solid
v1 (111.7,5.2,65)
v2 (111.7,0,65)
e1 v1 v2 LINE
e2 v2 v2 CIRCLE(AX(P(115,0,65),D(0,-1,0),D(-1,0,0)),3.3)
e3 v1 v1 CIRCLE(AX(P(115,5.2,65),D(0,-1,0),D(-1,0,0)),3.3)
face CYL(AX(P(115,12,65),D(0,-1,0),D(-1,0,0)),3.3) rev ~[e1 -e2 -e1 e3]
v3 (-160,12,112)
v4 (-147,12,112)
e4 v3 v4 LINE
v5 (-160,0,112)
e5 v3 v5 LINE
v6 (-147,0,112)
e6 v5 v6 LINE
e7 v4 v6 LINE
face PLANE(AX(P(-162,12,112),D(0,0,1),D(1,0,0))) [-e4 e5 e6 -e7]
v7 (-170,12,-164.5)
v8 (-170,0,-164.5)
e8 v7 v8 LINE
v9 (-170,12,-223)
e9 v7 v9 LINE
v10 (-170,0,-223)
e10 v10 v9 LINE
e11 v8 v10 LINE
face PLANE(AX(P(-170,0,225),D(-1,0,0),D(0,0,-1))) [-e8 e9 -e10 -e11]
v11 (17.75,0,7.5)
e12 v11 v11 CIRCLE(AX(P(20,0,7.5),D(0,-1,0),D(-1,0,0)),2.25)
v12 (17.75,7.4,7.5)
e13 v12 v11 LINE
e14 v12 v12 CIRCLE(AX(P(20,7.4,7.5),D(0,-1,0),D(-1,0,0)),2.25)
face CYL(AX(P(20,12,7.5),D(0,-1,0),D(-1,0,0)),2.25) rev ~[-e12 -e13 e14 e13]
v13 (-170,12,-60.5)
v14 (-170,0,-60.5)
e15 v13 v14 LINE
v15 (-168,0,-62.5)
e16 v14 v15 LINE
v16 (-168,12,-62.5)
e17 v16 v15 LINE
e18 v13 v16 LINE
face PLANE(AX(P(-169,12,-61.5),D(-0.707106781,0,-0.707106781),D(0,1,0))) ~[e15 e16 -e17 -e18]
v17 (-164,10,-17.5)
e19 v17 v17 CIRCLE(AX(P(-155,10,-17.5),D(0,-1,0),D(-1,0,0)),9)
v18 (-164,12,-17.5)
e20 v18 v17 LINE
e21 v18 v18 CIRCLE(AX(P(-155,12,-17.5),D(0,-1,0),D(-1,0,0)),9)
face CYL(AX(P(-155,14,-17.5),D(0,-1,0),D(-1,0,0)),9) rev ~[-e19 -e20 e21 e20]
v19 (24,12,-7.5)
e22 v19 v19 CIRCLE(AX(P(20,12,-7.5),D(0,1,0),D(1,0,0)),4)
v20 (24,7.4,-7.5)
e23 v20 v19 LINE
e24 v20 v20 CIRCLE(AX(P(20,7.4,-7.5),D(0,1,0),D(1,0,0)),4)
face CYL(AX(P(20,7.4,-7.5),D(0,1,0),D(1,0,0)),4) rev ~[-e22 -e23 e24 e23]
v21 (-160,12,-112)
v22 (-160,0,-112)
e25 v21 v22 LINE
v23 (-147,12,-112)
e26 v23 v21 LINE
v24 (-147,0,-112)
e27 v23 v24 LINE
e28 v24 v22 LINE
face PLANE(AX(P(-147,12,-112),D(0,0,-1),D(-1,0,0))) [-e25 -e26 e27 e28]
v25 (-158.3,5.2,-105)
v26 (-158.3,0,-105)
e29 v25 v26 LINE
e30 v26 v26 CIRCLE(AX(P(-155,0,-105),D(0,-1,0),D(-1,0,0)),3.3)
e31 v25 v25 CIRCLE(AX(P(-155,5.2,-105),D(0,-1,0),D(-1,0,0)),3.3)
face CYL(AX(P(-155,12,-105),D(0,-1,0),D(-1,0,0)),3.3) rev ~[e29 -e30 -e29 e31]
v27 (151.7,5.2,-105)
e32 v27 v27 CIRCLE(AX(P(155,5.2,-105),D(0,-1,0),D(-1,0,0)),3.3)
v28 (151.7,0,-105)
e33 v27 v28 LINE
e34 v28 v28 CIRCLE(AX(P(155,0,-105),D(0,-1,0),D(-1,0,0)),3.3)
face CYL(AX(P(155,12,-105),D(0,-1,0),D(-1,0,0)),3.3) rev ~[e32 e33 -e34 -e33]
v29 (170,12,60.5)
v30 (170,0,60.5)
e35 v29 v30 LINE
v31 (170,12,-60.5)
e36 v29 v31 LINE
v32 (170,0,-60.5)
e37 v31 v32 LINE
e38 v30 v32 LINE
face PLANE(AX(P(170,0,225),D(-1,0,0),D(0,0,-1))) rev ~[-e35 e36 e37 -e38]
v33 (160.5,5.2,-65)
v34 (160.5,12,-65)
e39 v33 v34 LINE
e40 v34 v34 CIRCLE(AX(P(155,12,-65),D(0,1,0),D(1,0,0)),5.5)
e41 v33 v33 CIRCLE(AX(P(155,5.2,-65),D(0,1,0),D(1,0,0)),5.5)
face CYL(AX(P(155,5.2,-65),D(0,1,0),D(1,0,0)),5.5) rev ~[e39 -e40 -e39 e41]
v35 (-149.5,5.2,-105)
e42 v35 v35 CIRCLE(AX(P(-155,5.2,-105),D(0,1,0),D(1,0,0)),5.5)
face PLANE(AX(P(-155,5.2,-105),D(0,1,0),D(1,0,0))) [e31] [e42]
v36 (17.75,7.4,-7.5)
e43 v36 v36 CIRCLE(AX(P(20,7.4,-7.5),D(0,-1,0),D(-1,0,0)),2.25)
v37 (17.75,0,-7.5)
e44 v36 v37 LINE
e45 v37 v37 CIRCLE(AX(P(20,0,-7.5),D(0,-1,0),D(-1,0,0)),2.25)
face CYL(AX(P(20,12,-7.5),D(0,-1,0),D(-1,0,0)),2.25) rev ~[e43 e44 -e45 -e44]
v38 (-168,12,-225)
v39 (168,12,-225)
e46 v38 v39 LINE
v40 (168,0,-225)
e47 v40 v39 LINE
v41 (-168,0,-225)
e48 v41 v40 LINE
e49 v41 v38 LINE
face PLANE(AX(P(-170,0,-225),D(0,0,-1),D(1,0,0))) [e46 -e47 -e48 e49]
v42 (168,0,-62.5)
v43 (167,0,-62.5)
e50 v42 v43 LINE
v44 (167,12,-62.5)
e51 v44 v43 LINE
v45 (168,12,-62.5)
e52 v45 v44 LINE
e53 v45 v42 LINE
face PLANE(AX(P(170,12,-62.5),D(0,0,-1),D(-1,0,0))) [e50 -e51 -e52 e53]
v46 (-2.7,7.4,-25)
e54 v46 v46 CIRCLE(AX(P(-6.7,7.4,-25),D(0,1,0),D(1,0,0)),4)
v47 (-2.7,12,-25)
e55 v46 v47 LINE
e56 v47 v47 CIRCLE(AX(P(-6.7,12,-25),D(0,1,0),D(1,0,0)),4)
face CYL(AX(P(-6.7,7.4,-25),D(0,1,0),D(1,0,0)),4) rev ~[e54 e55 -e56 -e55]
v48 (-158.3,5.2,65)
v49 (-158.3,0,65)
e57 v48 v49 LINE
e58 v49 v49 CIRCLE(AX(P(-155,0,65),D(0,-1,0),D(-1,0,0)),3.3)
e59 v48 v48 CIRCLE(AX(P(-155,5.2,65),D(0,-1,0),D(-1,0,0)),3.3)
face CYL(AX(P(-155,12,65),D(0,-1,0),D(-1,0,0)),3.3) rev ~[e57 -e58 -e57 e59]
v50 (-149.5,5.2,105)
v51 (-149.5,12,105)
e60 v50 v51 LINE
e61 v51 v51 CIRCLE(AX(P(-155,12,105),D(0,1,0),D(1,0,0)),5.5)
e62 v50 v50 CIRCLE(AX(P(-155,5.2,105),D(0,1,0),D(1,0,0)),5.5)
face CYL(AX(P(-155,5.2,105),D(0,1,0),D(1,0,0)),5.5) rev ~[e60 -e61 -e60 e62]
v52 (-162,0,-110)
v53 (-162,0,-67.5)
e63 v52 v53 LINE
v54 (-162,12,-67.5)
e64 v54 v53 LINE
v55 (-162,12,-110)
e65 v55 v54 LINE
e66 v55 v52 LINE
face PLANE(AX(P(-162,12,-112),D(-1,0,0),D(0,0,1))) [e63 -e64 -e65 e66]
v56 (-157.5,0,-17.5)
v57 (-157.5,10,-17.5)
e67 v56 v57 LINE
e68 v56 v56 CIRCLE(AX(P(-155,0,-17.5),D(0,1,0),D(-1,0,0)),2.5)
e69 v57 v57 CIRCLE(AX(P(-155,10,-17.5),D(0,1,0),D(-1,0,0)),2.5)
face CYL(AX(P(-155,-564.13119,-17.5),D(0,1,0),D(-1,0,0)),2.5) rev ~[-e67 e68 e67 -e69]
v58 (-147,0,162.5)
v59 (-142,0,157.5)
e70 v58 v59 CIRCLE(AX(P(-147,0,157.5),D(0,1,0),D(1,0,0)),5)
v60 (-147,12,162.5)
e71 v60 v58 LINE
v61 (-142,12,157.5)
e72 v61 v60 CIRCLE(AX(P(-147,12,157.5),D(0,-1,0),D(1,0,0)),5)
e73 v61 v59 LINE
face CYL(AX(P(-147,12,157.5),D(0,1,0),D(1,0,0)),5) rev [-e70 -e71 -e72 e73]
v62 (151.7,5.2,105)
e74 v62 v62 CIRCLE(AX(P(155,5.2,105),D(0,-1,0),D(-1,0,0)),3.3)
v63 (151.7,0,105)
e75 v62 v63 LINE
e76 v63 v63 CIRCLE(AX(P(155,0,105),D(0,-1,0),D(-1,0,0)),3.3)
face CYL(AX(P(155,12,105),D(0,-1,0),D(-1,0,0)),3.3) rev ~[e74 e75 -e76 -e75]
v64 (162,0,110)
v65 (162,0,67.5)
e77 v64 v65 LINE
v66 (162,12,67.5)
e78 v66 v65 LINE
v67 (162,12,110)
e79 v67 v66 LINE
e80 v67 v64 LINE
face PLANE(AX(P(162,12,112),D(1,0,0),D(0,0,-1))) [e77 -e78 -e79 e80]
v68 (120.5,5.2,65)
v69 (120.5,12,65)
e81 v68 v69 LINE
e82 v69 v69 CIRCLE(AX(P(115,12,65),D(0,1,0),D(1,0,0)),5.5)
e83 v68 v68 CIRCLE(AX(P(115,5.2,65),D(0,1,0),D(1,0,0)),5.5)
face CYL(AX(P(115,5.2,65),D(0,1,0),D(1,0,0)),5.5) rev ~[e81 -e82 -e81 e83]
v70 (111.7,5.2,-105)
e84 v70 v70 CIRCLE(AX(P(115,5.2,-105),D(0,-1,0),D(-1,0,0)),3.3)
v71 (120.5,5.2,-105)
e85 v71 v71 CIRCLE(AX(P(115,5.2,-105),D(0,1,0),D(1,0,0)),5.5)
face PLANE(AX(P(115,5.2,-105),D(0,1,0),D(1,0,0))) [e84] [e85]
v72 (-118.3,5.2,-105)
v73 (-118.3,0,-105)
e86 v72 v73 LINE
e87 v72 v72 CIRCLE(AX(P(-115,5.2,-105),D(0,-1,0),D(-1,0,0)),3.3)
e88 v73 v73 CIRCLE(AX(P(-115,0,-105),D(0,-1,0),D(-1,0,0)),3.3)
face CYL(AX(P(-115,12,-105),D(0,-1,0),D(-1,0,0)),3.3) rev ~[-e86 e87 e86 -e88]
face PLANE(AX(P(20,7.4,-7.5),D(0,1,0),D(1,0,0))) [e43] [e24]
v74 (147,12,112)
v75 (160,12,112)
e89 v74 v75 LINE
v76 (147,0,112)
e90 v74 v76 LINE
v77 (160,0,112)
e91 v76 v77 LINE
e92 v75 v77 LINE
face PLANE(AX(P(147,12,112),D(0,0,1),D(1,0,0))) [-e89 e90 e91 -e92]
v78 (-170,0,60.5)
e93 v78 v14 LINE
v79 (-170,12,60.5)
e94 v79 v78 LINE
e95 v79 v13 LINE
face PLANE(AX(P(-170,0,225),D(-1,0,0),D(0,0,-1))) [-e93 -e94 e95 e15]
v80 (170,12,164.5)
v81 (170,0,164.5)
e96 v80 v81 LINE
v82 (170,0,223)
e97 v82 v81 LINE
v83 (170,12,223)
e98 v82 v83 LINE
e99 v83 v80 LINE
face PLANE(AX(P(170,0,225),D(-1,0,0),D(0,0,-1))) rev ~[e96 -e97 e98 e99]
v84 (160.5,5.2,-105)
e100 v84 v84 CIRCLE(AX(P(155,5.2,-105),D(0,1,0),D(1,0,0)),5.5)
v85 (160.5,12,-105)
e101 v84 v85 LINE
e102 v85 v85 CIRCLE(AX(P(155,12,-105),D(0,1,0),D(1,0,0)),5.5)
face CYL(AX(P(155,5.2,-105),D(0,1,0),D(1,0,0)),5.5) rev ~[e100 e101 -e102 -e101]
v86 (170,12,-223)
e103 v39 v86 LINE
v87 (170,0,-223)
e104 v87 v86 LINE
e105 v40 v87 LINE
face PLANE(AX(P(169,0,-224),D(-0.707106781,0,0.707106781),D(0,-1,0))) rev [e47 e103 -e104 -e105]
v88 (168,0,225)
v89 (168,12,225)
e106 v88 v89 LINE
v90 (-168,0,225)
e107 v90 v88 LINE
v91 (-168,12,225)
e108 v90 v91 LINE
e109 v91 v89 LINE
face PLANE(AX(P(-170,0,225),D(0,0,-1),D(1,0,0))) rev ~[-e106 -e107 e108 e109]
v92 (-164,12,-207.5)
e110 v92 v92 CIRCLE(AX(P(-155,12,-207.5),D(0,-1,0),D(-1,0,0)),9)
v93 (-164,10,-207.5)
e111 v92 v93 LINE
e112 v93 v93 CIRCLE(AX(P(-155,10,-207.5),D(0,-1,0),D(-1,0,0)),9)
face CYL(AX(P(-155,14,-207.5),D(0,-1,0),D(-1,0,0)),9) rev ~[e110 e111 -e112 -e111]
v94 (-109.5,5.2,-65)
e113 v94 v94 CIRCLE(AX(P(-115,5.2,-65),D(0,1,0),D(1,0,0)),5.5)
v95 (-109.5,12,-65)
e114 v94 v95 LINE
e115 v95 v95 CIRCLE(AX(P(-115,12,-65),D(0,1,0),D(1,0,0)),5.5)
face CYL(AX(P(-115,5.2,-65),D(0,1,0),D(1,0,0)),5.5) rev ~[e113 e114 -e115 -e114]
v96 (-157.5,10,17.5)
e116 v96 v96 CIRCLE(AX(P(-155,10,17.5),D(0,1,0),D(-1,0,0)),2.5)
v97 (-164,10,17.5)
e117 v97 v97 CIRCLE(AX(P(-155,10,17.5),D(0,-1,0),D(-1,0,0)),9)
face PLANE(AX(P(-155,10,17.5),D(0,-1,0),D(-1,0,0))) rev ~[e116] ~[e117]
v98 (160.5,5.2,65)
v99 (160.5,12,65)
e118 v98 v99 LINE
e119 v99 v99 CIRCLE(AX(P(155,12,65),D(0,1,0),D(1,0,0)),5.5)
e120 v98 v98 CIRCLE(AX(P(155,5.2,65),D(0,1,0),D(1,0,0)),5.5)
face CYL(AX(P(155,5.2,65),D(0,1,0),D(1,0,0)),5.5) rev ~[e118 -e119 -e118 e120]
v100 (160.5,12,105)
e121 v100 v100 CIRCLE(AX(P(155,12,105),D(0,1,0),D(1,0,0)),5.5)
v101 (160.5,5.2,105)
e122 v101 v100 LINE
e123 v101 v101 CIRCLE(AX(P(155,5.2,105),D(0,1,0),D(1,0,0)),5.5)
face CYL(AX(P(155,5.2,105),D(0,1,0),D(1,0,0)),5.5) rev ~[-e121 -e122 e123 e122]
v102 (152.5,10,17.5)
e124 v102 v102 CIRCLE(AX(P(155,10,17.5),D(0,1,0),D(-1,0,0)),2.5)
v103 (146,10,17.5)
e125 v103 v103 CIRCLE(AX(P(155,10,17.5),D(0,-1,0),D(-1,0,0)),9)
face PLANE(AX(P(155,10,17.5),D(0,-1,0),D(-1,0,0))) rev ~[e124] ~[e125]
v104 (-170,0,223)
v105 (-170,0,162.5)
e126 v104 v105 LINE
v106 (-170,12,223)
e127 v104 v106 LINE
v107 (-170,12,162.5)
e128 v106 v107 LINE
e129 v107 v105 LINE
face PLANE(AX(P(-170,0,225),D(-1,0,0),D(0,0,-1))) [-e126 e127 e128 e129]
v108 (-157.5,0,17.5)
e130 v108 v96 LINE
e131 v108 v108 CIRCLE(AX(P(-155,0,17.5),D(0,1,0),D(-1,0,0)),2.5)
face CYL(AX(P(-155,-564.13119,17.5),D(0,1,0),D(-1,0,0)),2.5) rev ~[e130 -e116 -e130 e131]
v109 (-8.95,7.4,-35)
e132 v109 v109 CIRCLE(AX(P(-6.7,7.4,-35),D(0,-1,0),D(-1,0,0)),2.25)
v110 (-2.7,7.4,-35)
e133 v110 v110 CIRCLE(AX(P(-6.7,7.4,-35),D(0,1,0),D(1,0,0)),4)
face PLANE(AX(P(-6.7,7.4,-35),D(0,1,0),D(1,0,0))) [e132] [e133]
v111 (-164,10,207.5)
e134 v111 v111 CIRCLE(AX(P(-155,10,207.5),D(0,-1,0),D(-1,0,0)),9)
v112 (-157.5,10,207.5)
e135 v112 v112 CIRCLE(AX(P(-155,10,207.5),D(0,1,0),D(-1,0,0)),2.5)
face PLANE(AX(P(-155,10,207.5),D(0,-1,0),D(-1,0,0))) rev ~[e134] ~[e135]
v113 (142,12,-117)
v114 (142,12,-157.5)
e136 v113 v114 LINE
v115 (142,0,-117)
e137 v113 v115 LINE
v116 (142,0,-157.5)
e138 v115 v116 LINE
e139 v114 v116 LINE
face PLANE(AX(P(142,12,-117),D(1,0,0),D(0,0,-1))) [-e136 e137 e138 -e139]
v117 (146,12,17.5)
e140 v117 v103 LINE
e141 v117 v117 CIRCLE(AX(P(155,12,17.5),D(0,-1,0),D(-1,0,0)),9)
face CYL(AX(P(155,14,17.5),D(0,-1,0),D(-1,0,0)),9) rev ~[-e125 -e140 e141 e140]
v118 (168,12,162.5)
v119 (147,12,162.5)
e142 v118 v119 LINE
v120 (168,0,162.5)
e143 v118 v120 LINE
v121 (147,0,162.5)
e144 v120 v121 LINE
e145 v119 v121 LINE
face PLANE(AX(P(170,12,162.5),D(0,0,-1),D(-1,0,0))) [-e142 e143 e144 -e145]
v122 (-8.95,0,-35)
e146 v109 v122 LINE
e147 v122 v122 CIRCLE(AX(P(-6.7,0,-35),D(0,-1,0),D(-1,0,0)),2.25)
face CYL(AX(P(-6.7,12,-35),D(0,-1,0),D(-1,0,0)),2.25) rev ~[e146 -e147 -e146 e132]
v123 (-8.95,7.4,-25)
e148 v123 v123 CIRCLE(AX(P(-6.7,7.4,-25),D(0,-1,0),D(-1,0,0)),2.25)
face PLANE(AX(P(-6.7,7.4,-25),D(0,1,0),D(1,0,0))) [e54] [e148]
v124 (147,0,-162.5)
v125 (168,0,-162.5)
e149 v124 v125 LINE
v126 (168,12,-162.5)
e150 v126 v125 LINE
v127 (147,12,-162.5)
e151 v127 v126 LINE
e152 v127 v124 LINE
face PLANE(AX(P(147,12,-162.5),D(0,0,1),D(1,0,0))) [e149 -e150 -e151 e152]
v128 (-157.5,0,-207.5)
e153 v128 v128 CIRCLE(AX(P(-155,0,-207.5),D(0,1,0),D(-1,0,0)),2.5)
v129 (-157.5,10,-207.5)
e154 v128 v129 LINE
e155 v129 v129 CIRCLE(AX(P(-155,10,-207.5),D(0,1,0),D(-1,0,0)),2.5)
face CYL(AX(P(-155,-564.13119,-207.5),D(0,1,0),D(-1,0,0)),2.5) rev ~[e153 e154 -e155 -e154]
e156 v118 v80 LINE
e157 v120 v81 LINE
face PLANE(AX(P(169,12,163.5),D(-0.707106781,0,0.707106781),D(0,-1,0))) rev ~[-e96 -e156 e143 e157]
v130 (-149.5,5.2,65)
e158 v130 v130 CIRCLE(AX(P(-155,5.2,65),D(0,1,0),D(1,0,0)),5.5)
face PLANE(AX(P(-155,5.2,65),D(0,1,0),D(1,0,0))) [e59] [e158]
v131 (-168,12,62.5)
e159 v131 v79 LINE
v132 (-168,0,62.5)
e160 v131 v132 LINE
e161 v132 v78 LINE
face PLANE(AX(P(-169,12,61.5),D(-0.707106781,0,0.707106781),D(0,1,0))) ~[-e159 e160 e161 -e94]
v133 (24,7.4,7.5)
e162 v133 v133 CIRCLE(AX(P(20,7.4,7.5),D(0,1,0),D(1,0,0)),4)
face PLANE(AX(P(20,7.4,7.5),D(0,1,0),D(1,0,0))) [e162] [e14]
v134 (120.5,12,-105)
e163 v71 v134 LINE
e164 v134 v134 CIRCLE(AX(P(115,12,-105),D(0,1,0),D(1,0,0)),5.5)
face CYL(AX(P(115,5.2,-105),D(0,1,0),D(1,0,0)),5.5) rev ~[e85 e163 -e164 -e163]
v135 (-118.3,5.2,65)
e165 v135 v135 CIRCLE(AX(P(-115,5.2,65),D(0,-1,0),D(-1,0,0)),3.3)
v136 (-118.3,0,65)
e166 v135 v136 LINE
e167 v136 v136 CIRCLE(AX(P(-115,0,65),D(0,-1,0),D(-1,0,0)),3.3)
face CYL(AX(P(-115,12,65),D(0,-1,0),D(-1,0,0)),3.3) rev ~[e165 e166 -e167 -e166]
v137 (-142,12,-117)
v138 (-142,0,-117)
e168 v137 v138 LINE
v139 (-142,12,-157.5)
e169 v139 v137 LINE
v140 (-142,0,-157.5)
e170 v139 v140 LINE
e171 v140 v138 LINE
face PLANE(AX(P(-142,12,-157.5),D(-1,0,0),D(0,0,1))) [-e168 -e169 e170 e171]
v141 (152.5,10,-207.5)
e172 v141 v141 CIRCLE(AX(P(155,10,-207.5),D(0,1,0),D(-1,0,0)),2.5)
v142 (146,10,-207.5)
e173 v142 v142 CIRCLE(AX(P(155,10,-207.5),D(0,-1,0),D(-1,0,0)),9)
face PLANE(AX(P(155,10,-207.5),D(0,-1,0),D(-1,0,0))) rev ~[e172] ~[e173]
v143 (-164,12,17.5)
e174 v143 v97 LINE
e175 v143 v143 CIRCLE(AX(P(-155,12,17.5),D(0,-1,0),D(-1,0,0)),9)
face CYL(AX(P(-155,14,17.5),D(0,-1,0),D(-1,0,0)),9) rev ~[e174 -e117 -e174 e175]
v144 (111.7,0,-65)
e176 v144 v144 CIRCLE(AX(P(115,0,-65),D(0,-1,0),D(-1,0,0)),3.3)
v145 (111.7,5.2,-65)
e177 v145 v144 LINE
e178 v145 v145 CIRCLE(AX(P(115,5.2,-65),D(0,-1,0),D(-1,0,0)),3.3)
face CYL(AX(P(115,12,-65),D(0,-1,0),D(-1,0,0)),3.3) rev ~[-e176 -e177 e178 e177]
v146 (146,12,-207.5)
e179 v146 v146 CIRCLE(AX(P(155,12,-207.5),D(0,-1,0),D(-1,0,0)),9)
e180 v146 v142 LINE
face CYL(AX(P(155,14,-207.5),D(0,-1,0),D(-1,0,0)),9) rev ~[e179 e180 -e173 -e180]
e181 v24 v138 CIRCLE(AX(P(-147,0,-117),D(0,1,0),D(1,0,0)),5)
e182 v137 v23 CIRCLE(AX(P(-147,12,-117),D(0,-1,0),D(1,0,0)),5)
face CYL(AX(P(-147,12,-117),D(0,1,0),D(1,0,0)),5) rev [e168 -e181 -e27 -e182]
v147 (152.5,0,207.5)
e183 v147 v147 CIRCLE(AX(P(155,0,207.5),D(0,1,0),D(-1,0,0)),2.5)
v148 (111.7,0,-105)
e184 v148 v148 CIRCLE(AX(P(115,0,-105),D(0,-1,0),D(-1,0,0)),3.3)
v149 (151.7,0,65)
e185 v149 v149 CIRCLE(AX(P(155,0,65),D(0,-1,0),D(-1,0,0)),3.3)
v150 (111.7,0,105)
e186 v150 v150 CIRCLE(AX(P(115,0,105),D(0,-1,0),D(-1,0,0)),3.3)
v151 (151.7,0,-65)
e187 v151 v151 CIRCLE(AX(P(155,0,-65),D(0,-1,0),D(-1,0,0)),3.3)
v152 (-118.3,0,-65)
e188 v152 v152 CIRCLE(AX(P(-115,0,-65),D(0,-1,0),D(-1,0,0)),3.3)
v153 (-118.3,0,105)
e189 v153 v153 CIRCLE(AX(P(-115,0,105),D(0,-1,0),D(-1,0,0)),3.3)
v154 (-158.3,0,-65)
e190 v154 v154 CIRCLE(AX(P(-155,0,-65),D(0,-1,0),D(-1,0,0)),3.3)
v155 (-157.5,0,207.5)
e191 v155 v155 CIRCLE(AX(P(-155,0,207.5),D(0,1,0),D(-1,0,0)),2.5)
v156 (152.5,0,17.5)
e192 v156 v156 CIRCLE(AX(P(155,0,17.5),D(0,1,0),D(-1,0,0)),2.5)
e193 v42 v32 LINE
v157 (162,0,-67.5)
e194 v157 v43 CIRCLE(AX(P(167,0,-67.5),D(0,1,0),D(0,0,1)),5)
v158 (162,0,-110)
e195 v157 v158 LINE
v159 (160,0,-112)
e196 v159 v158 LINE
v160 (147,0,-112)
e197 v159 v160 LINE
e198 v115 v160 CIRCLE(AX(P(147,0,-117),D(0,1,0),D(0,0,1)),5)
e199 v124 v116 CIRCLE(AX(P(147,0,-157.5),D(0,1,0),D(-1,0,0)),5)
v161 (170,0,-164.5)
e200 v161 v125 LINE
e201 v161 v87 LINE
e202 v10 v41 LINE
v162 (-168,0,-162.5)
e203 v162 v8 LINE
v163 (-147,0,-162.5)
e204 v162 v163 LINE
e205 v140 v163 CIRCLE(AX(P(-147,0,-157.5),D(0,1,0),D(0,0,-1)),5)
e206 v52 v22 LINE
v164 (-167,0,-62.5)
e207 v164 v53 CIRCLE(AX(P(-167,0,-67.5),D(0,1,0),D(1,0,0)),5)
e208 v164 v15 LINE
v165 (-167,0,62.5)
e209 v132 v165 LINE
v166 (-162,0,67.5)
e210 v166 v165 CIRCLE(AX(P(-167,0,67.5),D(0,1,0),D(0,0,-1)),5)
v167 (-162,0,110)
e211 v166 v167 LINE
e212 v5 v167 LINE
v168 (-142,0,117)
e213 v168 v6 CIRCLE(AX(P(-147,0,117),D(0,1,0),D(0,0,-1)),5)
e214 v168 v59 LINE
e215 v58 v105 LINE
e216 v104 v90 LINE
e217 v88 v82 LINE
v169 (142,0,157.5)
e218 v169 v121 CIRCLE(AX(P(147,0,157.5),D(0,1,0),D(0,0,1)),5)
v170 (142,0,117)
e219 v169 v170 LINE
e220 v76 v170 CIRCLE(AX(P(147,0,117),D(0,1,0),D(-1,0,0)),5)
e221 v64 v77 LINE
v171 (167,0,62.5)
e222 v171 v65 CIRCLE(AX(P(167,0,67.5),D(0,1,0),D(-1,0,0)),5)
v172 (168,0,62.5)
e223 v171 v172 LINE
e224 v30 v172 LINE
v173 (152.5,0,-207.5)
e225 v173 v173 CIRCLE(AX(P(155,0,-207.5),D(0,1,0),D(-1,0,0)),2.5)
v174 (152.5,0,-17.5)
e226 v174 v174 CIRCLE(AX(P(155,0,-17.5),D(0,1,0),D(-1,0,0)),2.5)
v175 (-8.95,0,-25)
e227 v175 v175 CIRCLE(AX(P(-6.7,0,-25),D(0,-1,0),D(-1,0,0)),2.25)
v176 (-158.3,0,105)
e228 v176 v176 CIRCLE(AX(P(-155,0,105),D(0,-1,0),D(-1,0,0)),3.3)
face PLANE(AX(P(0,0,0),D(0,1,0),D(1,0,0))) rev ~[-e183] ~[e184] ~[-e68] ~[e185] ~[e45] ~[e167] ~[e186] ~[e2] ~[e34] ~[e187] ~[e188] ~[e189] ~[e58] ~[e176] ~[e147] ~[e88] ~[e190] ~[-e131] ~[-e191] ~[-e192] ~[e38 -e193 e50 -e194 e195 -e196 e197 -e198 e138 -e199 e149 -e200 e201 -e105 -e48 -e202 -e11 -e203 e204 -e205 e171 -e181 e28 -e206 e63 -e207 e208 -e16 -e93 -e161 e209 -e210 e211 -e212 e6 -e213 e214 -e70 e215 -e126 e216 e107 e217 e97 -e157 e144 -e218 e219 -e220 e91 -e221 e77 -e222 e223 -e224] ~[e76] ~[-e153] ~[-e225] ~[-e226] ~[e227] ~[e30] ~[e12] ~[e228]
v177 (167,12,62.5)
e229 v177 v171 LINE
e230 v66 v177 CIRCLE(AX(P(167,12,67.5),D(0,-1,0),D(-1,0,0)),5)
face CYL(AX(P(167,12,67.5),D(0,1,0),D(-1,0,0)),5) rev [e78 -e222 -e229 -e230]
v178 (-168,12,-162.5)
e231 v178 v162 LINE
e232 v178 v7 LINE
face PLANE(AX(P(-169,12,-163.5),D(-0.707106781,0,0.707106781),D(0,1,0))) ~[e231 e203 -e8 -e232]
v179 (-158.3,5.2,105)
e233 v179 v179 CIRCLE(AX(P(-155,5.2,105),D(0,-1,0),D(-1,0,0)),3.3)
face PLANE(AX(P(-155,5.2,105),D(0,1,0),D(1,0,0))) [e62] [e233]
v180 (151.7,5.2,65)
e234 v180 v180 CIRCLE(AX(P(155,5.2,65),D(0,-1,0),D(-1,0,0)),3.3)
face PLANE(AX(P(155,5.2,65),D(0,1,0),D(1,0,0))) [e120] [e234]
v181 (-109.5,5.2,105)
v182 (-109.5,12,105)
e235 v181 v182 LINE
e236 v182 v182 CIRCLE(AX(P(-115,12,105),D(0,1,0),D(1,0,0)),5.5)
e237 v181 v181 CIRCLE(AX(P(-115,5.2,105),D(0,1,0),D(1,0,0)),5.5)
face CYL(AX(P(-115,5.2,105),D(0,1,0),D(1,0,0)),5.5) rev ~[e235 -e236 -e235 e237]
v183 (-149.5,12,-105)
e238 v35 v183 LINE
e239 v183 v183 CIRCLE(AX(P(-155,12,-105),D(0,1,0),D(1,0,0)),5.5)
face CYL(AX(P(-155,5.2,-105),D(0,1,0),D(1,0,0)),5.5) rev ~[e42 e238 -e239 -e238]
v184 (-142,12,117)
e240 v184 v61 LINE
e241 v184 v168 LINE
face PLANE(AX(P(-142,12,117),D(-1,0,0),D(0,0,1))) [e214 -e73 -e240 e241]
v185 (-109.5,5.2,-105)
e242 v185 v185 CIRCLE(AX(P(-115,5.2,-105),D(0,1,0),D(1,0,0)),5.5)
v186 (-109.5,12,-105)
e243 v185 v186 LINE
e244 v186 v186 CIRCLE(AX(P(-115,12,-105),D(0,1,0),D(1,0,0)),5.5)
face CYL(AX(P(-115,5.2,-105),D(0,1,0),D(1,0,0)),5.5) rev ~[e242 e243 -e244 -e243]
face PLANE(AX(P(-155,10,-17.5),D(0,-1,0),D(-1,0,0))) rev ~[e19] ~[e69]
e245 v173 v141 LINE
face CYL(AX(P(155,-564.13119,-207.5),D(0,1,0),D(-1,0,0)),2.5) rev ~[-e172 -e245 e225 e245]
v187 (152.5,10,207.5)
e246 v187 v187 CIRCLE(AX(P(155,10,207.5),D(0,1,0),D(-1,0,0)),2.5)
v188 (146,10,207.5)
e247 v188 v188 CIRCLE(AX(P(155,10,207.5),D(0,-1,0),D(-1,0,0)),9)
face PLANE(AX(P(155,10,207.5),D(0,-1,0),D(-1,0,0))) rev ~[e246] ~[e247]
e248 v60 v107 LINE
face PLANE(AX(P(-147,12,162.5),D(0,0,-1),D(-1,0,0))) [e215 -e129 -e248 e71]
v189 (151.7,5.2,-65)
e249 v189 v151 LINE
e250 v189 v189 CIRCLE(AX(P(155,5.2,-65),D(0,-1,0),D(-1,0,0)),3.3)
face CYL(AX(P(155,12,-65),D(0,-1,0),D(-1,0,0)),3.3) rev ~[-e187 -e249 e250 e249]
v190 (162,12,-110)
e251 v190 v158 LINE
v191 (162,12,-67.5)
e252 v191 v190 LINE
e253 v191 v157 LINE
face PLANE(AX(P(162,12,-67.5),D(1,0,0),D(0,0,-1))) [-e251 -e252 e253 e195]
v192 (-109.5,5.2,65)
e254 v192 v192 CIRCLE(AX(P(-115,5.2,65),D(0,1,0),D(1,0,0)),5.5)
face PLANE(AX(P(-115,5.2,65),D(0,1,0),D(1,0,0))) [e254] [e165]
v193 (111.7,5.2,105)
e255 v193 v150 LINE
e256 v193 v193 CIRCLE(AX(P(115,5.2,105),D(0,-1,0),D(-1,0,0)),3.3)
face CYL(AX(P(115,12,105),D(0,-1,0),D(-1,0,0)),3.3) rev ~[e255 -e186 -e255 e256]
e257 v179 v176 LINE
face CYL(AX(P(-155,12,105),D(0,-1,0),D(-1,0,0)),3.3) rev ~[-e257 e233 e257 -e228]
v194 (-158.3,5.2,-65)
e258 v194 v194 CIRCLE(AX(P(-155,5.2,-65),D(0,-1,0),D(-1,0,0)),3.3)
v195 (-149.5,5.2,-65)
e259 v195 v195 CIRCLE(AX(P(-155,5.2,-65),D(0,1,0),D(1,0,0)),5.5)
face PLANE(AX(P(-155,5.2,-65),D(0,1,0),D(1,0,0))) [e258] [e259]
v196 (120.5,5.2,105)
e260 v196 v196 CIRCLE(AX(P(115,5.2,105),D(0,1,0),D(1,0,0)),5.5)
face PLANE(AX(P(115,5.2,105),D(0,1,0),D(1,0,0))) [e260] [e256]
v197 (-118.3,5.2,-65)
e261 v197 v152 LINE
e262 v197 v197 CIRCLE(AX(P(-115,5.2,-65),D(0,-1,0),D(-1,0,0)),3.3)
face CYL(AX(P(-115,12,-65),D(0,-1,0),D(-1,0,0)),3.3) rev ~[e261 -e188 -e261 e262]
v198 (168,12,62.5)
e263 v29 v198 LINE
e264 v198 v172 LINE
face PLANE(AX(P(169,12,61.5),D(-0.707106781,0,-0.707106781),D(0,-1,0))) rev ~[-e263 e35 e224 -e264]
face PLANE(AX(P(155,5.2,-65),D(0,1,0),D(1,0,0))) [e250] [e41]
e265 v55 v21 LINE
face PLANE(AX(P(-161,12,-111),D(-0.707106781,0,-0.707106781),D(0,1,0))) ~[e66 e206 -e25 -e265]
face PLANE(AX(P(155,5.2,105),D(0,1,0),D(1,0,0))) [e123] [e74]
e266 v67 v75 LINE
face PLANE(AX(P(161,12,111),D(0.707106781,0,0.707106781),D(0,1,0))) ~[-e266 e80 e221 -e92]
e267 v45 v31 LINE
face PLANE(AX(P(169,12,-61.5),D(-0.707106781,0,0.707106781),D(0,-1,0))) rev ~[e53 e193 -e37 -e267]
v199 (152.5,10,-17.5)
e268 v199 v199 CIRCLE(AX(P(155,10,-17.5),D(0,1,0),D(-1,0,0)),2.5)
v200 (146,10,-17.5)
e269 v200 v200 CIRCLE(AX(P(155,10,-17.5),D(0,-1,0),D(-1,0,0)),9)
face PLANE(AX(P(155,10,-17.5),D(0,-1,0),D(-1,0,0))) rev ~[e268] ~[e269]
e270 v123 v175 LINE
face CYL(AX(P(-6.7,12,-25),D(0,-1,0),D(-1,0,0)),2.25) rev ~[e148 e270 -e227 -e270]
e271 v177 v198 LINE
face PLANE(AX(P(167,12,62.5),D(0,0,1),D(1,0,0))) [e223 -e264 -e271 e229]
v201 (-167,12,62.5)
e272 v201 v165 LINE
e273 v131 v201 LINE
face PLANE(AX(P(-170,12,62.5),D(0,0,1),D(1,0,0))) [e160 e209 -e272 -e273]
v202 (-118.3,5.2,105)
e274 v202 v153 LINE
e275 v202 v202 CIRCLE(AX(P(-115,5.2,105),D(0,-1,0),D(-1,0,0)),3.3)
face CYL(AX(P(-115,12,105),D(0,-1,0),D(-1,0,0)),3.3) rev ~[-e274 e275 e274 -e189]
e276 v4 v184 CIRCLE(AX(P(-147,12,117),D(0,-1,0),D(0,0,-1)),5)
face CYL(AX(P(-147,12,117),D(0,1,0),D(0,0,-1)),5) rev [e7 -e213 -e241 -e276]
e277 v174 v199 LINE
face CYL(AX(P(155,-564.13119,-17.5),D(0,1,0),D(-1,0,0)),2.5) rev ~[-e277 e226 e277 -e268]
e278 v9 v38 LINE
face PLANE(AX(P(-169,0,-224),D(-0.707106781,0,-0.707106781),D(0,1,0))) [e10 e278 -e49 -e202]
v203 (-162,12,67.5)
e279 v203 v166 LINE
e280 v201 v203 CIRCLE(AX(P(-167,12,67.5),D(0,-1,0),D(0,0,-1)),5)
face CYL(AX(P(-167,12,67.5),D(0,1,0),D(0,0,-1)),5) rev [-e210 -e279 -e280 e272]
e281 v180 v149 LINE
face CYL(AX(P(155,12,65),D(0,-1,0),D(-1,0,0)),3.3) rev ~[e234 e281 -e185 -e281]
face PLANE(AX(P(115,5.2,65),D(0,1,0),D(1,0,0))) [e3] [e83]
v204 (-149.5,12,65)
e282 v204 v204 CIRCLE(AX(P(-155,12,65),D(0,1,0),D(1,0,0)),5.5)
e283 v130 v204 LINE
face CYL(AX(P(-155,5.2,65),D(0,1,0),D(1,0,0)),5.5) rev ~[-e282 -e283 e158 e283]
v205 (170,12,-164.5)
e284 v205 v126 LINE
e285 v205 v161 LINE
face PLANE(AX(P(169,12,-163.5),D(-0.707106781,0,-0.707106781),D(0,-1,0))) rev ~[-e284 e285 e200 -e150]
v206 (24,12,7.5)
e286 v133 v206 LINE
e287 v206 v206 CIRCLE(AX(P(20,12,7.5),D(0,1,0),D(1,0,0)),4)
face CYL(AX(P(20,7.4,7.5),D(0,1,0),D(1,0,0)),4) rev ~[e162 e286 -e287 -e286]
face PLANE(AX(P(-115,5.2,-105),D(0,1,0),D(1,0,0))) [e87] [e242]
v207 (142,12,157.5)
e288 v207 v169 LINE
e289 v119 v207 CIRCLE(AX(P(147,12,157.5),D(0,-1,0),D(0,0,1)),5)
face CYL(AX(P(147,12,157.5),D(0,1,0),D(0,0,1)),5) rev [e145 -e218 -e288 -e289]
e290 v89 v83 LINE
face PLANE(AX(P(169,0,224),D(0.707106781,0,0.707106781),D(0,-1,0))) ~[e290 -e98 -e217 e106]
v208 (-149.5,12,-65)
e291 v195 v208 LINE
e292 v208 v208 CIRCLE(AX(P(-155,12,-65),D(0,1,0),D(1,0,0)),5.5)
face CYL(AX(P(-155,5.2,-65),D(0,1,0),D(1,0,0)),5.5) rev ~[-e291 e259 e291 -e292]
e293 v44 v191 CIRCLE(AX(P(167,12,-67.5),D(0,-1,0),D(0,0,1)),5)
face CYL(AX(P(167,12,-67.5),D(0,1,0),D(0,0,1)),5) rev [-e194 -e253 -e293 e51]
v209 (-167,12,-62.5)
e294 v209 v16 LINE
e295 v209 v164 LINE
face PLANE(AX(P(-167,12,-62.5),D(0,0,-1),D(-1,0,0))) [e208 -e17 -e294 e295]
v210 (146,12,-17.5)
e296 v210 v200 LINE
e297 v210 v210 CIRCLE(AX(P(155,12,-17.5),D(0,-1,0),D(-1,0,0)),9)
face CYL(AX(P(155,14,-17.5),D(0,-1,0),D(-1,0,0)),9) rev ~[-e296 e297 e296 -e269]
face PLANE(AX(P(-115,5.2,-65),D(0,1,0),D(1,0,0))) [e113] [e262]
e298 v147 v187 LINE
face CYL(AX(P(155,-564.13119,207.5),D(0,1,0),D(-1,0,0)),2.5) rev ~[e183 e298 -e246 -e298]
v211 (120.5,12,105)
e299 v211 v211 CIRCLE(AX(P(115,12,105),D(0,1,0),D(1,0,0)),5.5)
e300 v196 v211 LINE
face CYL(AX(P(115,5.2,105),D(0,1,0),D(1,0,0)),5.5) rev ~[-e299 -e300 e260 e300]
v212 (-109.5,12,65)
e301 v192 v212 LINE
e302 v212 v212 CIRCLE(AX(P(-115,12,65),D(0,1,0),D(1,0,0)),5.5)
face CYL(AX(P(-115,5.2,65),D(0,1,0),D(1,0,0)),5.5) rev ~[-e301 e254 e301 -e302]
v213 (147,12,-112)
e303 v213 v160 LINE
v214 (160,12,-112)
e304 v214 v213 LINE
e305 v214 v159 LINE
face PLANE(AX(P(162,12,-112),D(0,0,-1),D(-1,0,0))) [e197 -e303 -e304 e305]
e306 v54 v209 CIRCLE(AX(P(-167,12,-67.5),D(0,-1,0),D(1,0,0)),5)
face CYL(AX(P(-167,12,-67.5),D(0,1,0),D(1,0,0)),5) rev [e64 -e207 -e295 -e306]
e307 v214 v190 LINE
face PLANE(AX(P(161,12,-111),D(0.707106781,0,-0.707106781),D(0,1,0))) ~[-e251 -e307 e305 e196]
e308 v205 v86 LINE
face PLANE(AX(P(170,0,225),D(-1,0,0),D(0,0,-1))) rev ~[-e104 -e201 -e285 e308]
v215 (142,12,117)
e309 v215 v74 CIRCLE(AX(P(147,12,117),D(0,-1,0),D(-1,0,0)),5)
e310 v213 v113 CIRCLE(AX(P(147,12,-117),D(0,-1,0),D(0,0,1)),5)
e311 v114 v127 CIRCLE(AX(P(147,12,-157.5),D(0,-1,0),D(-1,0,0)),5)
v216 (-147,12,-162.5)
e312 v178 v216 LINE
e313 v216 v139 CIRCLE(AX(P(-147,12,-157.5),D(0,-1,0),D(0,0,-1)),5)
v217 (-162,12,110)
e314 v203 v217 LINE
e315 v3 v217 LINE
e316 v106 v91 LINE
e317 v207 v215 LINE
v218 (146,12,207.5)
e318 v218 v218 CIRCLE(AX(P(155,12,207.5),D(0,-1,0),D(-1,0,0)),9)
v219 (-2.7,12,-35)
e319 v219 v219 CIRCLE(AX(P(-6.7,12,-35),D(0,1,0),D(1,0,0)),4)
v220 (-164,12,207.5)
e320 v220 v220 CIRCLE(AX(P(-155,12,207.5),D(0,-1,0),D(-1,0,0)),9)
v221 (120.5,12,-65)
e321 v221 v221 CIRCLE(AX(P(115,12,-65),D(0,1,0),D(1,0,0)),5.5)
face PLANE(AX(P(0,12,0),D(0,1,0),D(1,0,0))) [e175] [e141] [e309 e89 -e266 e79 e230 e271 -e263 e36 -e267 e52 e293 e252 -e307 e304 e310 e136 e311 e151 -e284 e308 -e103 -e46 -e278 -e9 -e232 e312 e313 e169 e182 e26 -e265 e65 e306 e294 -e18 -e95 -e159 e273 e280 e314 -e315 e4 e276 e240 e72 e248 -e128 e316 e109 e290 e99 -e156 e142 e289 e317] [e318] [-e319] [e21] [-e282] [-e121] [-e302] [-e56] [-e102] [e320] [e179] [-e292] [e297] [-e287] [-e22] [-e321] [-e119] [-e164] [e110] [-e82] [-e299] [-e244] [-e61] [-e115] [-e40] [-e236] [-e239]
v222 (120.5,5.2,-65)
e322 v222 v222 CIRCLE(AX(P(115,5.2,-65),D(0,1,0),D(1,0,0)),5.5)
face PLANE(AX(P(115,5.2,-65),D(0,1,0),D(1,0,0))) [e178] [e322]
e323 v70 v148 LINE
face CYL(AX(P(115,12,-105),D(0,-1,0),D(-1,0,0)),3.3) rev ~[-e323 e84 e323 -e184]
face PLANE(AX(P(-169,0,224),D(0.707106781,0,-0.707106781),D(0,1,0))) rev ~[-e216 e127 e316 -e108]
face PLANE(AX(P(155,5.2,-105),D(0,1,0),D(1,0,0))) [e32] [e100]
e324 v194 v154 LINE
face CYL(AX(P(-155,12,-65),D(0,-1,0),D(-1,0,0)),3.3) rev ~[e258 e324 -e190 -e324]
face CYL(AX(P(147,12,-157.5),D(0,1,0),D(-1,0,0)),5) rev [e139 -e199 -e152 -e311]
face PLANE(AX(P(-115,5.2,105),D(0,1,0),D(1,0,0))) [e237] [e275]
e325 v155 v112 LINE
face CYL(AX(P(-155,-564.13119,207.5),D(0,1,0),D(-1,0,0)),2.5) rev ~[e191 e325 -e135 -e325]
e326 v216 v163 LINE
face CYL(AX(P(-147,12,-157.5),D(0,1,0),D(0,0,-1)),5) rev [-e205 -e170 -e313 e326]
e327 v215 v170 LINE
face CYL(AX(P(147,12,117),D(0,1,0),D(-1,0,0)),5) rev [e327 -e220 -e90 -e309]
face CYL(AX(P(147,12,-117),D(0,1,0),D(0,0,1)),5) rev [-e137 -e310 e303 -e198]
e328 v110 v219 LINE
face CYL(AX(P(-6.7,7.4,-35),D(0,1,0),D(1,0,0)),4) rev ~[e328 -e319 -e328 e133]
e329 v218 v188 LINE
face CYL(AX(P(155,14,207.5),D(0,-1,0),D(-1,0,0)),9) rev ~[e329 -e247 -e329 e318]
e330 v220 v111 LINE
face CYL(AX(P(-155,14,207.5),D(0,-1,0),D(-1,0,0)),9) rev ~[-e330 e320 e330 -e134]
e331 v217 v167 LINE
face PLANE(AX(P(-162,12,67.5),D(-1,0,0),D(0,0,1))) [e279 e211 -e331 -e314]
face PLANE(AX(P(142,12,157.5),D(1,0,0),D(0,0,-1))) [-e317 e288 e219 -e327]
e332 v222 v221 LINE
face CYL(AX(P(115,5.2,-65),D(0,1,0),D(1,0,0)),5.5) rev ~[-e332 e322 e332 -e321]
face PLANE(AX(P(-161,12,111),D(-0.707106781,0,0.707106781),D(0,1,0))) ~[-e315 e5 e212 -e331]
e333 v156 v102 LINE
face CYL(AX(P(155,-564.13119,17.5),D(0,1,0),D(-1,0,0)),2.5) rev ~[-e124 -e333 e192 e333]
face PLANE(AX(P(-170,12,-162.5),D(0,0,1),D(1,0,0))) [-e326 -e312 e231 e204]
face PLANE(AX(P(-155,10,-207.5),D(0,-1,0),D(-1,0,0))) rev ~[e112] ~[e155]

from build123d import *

# Parameters (mm, degrees)
SKETCH_1_W                  = 340
SKETCH_1_H                  = 450
EXTRUDE_1_DEPTH             = 12
HOLE_WIZARD_3_D             = 6.6
HOLE_WIZARD_3_CBORE_D       = 11
HOLE_WIZARD_3_CBORE_DEPTH   = 6.8
HOLE_WIZARD_3_2_D           = 4.5
HOLE_WIZARD_3_2_CBORE_D     = 8
HOLE_WIZARD_3_2_CBORE_DEPTH = 4.6
HOLE_WIZARD_M6_1_D          = 5
HOLE_WIZARD_1_D             = 18
HOLE_WIZARD_1_DEPTH         = 2
CUT_EXTRUDE_1_DEPTH         = 283.256975113
CHAMFER_1_SIZE              = 2


with BuildPart() as part:
    # 草图1 → 凸台-拉伸1 (new body)
    with BuildSketch(Plane(origin=(0, 0, 0), x_dir=(1, 0, 0), z_dir=(0, 1, 0))):
        Rectangle(SKETCH_1_W, SKETCH_1_H)
    extrude(amount=EXTRUDE_1_DEPTH)

    # Hole Wizard 3 (through all)
    with Locations(Plane(origin=(0, 12, 0), x_dir=(1, 0, 0), z_dir=(0, 1, 0))):
        with Locations((-115, 65), (-115, 105), (-155, 105), (-155, 65), (155, 65), (155, 105), (115, 105), (115, 65), (115, -65), (115, -105), (155, -105), (155, -65), (-155, -65), (-155, -105), (-115, -105), (-115, -65)):
            CounterBoreHole(HOLE_WIZARD_3_D / 2, HOLE_WIZARD_3_CBORE_D / 2, HOLE_WIZARD_3_CBORE_DEPTH)

    # Hole Wizard 3 2 (through all)
    with Locations(Plane(origin=(0, 12, 0), x_dir=(1, 0, 0), z_dir=(0, 1, 0))):
        with Locations((20, 7.5), (20, -7.5), (-6.7, 25), (-6.7, 35)):
            CounterBoreHole(HOLE_WIZARD_3_2_D / 2, HOLE_WIZARD_3_2_CBORE_D / 2, HOLE_WIZARD_3_2_CBORE_DEPTH)

    # M6 螺纹孔1 (through all)
    with Locations(Plane(origin=(-174.714463093, 0, 28.629345755), x_dir=(1, 0, 0), z_dir=(0, -1, 0))):
        with Locations((19.714463093, -236.129345755), (19.714463093, -46.129345755), (329.714463093, -46.129345755), (329.714463093, -236.129345755), (329.714463093, 178.870654245), (329.714463093, -11.129345755), (19.714463093, -11.129345755), (19.714463093, 178.870654245)):
            Hole(HOLE_WIZARD_M6_1_D / 2)

    # 孔1
    with Locations(Plane(origin=(0, 12, 0), x_dir=(1, 0, 0), z_dir=(0, 1, 0))):
        with Locations((-155, 17.5), (-155, 207.5), (155, 207.5), (155, 17.5), (155, -17.5), (155, -207.5), (-155, -207.5), (-155, -17.5)):
            Hole(HOLE_WIZARD_1_D / 2, depth=HOLE_WIZARD_1_DEPTH)

    # 草图13 → 切除-拉伸1 (cut, through all)
    with BuildSketch(Plane(origin=(0, 12, 0), x_dir=(1, 0, 0), z_dir=(0, 1, 0))):
        with BuildLine():
            Line((-167, 62.5), (-170, 62.5))
            Line((-170, 62.5), (-170, 162.5))
            Line((-170, 162.5), (-147, 162.5))
            ThreePointArc((-147, 162.5), (-143.464466094, 161.035533906), (-142, 157.5))
            Line((-142, 157.5), (-142, 117))
            ThreePointArc((-142, 117), (-143.464466094, 113.464466094), (-147, 112))
            Line((-147, 112), (-162, 112))
            Line((-162, 112), (-162, 67.5))
            ThreePointArc((-162, 67.5), (-163.464466094, 63.964466094), (-167, 62.5))
        make_face()
        with BuildLine():
            Line((142, 117), (142, 157.5))
            ThreePointArc((142, 157.5), (143.464466094, 161.035533906), (147, 162.5))
            Line((147, 162.5), (170, 162.5))
            Line((170, 162.5), (170, 62.5))
            Line((170, 62.5), (167, 62.5))
            ThreePointArc((167, 62.5), (163.464466094, 63.964466094), (162, 67.5))
            Line((162, 67.5), (162, 112))
            Line((162, 112), (147, 112))
            ThreePointArc((147, 112), (143.464466094, 113.464466094), (142, 117))
        make_face()
        with BuildLine():
            Line((-142, -117), (-142, -157.5))
            ThreePointArc((-142, -157.5), (-143.464466094, -161.035533906), (-147, -162.5))
            Line((-147, -162.5), (-170, -162.5))
            Line((-170, -162.5), (-170, -62.5))
            Line((-170, -62.5), (-167, -62.5))
            ThreePointArc((-167, -62.5), (-163.464466094, -63.964466094), (-162, -67.5))
            Line((-162, -67.5), (-162, -112))
            Line((-162, -112), (-147, -112))
            ThreePointArc((-147, -112), (-143.464466094, -113.464466094), (-142, -117))
        make_face()
        with BuildLine():
            Line((167, -62.5), (170, -62.5))
            Line((170, -62.5), (170, -162.5))
            Line((170, -162.5), (147, -162.5))
            ThreePointArc((147, -162.5), (143.464466094, -161.035533906), (142, -157.5))
            Line((142, -157.5), (142, -117))
            ThreePointArc((142, -117), (143.464466094, -113.464466094), (147, -112))
            Line((147, -112), (162, -112))
            Line((162, -112), (162, -67.5))
            ThreePointArc((162, -67.5), (163.464466094, -63.964466094), (167, -62.5))
        make_face()
    extrude(amount=-CUT_EXTRUDE_1_DEPTH, mode=Mode.SUBTRACT)

    # 倒角1
    chamfer_1_edges = [part.edges().sort_by_distance(p)[0] for p in [
        (-170, 6, -62.5),
        (-170, 6, -162.5),
        (-162, 6, -112),
        (170, 6, -62.5),
        (162, 6, -112),
        (170, 6, -162.5),
        (170, 6, 62.5),
        (170, 6, 162.5),
        (162, 6, 112),
        (-170, 6, 62.5),
        (-162, 6, 112),
        (170, 6, 225),
        (-170, 6, 225),
        (-170, 6, -225),
        (170, 6, -225),
    ]]
    chamfer(chamfer_1_edges, length=CHAMFER_1_SIZE)


solid = part.part
